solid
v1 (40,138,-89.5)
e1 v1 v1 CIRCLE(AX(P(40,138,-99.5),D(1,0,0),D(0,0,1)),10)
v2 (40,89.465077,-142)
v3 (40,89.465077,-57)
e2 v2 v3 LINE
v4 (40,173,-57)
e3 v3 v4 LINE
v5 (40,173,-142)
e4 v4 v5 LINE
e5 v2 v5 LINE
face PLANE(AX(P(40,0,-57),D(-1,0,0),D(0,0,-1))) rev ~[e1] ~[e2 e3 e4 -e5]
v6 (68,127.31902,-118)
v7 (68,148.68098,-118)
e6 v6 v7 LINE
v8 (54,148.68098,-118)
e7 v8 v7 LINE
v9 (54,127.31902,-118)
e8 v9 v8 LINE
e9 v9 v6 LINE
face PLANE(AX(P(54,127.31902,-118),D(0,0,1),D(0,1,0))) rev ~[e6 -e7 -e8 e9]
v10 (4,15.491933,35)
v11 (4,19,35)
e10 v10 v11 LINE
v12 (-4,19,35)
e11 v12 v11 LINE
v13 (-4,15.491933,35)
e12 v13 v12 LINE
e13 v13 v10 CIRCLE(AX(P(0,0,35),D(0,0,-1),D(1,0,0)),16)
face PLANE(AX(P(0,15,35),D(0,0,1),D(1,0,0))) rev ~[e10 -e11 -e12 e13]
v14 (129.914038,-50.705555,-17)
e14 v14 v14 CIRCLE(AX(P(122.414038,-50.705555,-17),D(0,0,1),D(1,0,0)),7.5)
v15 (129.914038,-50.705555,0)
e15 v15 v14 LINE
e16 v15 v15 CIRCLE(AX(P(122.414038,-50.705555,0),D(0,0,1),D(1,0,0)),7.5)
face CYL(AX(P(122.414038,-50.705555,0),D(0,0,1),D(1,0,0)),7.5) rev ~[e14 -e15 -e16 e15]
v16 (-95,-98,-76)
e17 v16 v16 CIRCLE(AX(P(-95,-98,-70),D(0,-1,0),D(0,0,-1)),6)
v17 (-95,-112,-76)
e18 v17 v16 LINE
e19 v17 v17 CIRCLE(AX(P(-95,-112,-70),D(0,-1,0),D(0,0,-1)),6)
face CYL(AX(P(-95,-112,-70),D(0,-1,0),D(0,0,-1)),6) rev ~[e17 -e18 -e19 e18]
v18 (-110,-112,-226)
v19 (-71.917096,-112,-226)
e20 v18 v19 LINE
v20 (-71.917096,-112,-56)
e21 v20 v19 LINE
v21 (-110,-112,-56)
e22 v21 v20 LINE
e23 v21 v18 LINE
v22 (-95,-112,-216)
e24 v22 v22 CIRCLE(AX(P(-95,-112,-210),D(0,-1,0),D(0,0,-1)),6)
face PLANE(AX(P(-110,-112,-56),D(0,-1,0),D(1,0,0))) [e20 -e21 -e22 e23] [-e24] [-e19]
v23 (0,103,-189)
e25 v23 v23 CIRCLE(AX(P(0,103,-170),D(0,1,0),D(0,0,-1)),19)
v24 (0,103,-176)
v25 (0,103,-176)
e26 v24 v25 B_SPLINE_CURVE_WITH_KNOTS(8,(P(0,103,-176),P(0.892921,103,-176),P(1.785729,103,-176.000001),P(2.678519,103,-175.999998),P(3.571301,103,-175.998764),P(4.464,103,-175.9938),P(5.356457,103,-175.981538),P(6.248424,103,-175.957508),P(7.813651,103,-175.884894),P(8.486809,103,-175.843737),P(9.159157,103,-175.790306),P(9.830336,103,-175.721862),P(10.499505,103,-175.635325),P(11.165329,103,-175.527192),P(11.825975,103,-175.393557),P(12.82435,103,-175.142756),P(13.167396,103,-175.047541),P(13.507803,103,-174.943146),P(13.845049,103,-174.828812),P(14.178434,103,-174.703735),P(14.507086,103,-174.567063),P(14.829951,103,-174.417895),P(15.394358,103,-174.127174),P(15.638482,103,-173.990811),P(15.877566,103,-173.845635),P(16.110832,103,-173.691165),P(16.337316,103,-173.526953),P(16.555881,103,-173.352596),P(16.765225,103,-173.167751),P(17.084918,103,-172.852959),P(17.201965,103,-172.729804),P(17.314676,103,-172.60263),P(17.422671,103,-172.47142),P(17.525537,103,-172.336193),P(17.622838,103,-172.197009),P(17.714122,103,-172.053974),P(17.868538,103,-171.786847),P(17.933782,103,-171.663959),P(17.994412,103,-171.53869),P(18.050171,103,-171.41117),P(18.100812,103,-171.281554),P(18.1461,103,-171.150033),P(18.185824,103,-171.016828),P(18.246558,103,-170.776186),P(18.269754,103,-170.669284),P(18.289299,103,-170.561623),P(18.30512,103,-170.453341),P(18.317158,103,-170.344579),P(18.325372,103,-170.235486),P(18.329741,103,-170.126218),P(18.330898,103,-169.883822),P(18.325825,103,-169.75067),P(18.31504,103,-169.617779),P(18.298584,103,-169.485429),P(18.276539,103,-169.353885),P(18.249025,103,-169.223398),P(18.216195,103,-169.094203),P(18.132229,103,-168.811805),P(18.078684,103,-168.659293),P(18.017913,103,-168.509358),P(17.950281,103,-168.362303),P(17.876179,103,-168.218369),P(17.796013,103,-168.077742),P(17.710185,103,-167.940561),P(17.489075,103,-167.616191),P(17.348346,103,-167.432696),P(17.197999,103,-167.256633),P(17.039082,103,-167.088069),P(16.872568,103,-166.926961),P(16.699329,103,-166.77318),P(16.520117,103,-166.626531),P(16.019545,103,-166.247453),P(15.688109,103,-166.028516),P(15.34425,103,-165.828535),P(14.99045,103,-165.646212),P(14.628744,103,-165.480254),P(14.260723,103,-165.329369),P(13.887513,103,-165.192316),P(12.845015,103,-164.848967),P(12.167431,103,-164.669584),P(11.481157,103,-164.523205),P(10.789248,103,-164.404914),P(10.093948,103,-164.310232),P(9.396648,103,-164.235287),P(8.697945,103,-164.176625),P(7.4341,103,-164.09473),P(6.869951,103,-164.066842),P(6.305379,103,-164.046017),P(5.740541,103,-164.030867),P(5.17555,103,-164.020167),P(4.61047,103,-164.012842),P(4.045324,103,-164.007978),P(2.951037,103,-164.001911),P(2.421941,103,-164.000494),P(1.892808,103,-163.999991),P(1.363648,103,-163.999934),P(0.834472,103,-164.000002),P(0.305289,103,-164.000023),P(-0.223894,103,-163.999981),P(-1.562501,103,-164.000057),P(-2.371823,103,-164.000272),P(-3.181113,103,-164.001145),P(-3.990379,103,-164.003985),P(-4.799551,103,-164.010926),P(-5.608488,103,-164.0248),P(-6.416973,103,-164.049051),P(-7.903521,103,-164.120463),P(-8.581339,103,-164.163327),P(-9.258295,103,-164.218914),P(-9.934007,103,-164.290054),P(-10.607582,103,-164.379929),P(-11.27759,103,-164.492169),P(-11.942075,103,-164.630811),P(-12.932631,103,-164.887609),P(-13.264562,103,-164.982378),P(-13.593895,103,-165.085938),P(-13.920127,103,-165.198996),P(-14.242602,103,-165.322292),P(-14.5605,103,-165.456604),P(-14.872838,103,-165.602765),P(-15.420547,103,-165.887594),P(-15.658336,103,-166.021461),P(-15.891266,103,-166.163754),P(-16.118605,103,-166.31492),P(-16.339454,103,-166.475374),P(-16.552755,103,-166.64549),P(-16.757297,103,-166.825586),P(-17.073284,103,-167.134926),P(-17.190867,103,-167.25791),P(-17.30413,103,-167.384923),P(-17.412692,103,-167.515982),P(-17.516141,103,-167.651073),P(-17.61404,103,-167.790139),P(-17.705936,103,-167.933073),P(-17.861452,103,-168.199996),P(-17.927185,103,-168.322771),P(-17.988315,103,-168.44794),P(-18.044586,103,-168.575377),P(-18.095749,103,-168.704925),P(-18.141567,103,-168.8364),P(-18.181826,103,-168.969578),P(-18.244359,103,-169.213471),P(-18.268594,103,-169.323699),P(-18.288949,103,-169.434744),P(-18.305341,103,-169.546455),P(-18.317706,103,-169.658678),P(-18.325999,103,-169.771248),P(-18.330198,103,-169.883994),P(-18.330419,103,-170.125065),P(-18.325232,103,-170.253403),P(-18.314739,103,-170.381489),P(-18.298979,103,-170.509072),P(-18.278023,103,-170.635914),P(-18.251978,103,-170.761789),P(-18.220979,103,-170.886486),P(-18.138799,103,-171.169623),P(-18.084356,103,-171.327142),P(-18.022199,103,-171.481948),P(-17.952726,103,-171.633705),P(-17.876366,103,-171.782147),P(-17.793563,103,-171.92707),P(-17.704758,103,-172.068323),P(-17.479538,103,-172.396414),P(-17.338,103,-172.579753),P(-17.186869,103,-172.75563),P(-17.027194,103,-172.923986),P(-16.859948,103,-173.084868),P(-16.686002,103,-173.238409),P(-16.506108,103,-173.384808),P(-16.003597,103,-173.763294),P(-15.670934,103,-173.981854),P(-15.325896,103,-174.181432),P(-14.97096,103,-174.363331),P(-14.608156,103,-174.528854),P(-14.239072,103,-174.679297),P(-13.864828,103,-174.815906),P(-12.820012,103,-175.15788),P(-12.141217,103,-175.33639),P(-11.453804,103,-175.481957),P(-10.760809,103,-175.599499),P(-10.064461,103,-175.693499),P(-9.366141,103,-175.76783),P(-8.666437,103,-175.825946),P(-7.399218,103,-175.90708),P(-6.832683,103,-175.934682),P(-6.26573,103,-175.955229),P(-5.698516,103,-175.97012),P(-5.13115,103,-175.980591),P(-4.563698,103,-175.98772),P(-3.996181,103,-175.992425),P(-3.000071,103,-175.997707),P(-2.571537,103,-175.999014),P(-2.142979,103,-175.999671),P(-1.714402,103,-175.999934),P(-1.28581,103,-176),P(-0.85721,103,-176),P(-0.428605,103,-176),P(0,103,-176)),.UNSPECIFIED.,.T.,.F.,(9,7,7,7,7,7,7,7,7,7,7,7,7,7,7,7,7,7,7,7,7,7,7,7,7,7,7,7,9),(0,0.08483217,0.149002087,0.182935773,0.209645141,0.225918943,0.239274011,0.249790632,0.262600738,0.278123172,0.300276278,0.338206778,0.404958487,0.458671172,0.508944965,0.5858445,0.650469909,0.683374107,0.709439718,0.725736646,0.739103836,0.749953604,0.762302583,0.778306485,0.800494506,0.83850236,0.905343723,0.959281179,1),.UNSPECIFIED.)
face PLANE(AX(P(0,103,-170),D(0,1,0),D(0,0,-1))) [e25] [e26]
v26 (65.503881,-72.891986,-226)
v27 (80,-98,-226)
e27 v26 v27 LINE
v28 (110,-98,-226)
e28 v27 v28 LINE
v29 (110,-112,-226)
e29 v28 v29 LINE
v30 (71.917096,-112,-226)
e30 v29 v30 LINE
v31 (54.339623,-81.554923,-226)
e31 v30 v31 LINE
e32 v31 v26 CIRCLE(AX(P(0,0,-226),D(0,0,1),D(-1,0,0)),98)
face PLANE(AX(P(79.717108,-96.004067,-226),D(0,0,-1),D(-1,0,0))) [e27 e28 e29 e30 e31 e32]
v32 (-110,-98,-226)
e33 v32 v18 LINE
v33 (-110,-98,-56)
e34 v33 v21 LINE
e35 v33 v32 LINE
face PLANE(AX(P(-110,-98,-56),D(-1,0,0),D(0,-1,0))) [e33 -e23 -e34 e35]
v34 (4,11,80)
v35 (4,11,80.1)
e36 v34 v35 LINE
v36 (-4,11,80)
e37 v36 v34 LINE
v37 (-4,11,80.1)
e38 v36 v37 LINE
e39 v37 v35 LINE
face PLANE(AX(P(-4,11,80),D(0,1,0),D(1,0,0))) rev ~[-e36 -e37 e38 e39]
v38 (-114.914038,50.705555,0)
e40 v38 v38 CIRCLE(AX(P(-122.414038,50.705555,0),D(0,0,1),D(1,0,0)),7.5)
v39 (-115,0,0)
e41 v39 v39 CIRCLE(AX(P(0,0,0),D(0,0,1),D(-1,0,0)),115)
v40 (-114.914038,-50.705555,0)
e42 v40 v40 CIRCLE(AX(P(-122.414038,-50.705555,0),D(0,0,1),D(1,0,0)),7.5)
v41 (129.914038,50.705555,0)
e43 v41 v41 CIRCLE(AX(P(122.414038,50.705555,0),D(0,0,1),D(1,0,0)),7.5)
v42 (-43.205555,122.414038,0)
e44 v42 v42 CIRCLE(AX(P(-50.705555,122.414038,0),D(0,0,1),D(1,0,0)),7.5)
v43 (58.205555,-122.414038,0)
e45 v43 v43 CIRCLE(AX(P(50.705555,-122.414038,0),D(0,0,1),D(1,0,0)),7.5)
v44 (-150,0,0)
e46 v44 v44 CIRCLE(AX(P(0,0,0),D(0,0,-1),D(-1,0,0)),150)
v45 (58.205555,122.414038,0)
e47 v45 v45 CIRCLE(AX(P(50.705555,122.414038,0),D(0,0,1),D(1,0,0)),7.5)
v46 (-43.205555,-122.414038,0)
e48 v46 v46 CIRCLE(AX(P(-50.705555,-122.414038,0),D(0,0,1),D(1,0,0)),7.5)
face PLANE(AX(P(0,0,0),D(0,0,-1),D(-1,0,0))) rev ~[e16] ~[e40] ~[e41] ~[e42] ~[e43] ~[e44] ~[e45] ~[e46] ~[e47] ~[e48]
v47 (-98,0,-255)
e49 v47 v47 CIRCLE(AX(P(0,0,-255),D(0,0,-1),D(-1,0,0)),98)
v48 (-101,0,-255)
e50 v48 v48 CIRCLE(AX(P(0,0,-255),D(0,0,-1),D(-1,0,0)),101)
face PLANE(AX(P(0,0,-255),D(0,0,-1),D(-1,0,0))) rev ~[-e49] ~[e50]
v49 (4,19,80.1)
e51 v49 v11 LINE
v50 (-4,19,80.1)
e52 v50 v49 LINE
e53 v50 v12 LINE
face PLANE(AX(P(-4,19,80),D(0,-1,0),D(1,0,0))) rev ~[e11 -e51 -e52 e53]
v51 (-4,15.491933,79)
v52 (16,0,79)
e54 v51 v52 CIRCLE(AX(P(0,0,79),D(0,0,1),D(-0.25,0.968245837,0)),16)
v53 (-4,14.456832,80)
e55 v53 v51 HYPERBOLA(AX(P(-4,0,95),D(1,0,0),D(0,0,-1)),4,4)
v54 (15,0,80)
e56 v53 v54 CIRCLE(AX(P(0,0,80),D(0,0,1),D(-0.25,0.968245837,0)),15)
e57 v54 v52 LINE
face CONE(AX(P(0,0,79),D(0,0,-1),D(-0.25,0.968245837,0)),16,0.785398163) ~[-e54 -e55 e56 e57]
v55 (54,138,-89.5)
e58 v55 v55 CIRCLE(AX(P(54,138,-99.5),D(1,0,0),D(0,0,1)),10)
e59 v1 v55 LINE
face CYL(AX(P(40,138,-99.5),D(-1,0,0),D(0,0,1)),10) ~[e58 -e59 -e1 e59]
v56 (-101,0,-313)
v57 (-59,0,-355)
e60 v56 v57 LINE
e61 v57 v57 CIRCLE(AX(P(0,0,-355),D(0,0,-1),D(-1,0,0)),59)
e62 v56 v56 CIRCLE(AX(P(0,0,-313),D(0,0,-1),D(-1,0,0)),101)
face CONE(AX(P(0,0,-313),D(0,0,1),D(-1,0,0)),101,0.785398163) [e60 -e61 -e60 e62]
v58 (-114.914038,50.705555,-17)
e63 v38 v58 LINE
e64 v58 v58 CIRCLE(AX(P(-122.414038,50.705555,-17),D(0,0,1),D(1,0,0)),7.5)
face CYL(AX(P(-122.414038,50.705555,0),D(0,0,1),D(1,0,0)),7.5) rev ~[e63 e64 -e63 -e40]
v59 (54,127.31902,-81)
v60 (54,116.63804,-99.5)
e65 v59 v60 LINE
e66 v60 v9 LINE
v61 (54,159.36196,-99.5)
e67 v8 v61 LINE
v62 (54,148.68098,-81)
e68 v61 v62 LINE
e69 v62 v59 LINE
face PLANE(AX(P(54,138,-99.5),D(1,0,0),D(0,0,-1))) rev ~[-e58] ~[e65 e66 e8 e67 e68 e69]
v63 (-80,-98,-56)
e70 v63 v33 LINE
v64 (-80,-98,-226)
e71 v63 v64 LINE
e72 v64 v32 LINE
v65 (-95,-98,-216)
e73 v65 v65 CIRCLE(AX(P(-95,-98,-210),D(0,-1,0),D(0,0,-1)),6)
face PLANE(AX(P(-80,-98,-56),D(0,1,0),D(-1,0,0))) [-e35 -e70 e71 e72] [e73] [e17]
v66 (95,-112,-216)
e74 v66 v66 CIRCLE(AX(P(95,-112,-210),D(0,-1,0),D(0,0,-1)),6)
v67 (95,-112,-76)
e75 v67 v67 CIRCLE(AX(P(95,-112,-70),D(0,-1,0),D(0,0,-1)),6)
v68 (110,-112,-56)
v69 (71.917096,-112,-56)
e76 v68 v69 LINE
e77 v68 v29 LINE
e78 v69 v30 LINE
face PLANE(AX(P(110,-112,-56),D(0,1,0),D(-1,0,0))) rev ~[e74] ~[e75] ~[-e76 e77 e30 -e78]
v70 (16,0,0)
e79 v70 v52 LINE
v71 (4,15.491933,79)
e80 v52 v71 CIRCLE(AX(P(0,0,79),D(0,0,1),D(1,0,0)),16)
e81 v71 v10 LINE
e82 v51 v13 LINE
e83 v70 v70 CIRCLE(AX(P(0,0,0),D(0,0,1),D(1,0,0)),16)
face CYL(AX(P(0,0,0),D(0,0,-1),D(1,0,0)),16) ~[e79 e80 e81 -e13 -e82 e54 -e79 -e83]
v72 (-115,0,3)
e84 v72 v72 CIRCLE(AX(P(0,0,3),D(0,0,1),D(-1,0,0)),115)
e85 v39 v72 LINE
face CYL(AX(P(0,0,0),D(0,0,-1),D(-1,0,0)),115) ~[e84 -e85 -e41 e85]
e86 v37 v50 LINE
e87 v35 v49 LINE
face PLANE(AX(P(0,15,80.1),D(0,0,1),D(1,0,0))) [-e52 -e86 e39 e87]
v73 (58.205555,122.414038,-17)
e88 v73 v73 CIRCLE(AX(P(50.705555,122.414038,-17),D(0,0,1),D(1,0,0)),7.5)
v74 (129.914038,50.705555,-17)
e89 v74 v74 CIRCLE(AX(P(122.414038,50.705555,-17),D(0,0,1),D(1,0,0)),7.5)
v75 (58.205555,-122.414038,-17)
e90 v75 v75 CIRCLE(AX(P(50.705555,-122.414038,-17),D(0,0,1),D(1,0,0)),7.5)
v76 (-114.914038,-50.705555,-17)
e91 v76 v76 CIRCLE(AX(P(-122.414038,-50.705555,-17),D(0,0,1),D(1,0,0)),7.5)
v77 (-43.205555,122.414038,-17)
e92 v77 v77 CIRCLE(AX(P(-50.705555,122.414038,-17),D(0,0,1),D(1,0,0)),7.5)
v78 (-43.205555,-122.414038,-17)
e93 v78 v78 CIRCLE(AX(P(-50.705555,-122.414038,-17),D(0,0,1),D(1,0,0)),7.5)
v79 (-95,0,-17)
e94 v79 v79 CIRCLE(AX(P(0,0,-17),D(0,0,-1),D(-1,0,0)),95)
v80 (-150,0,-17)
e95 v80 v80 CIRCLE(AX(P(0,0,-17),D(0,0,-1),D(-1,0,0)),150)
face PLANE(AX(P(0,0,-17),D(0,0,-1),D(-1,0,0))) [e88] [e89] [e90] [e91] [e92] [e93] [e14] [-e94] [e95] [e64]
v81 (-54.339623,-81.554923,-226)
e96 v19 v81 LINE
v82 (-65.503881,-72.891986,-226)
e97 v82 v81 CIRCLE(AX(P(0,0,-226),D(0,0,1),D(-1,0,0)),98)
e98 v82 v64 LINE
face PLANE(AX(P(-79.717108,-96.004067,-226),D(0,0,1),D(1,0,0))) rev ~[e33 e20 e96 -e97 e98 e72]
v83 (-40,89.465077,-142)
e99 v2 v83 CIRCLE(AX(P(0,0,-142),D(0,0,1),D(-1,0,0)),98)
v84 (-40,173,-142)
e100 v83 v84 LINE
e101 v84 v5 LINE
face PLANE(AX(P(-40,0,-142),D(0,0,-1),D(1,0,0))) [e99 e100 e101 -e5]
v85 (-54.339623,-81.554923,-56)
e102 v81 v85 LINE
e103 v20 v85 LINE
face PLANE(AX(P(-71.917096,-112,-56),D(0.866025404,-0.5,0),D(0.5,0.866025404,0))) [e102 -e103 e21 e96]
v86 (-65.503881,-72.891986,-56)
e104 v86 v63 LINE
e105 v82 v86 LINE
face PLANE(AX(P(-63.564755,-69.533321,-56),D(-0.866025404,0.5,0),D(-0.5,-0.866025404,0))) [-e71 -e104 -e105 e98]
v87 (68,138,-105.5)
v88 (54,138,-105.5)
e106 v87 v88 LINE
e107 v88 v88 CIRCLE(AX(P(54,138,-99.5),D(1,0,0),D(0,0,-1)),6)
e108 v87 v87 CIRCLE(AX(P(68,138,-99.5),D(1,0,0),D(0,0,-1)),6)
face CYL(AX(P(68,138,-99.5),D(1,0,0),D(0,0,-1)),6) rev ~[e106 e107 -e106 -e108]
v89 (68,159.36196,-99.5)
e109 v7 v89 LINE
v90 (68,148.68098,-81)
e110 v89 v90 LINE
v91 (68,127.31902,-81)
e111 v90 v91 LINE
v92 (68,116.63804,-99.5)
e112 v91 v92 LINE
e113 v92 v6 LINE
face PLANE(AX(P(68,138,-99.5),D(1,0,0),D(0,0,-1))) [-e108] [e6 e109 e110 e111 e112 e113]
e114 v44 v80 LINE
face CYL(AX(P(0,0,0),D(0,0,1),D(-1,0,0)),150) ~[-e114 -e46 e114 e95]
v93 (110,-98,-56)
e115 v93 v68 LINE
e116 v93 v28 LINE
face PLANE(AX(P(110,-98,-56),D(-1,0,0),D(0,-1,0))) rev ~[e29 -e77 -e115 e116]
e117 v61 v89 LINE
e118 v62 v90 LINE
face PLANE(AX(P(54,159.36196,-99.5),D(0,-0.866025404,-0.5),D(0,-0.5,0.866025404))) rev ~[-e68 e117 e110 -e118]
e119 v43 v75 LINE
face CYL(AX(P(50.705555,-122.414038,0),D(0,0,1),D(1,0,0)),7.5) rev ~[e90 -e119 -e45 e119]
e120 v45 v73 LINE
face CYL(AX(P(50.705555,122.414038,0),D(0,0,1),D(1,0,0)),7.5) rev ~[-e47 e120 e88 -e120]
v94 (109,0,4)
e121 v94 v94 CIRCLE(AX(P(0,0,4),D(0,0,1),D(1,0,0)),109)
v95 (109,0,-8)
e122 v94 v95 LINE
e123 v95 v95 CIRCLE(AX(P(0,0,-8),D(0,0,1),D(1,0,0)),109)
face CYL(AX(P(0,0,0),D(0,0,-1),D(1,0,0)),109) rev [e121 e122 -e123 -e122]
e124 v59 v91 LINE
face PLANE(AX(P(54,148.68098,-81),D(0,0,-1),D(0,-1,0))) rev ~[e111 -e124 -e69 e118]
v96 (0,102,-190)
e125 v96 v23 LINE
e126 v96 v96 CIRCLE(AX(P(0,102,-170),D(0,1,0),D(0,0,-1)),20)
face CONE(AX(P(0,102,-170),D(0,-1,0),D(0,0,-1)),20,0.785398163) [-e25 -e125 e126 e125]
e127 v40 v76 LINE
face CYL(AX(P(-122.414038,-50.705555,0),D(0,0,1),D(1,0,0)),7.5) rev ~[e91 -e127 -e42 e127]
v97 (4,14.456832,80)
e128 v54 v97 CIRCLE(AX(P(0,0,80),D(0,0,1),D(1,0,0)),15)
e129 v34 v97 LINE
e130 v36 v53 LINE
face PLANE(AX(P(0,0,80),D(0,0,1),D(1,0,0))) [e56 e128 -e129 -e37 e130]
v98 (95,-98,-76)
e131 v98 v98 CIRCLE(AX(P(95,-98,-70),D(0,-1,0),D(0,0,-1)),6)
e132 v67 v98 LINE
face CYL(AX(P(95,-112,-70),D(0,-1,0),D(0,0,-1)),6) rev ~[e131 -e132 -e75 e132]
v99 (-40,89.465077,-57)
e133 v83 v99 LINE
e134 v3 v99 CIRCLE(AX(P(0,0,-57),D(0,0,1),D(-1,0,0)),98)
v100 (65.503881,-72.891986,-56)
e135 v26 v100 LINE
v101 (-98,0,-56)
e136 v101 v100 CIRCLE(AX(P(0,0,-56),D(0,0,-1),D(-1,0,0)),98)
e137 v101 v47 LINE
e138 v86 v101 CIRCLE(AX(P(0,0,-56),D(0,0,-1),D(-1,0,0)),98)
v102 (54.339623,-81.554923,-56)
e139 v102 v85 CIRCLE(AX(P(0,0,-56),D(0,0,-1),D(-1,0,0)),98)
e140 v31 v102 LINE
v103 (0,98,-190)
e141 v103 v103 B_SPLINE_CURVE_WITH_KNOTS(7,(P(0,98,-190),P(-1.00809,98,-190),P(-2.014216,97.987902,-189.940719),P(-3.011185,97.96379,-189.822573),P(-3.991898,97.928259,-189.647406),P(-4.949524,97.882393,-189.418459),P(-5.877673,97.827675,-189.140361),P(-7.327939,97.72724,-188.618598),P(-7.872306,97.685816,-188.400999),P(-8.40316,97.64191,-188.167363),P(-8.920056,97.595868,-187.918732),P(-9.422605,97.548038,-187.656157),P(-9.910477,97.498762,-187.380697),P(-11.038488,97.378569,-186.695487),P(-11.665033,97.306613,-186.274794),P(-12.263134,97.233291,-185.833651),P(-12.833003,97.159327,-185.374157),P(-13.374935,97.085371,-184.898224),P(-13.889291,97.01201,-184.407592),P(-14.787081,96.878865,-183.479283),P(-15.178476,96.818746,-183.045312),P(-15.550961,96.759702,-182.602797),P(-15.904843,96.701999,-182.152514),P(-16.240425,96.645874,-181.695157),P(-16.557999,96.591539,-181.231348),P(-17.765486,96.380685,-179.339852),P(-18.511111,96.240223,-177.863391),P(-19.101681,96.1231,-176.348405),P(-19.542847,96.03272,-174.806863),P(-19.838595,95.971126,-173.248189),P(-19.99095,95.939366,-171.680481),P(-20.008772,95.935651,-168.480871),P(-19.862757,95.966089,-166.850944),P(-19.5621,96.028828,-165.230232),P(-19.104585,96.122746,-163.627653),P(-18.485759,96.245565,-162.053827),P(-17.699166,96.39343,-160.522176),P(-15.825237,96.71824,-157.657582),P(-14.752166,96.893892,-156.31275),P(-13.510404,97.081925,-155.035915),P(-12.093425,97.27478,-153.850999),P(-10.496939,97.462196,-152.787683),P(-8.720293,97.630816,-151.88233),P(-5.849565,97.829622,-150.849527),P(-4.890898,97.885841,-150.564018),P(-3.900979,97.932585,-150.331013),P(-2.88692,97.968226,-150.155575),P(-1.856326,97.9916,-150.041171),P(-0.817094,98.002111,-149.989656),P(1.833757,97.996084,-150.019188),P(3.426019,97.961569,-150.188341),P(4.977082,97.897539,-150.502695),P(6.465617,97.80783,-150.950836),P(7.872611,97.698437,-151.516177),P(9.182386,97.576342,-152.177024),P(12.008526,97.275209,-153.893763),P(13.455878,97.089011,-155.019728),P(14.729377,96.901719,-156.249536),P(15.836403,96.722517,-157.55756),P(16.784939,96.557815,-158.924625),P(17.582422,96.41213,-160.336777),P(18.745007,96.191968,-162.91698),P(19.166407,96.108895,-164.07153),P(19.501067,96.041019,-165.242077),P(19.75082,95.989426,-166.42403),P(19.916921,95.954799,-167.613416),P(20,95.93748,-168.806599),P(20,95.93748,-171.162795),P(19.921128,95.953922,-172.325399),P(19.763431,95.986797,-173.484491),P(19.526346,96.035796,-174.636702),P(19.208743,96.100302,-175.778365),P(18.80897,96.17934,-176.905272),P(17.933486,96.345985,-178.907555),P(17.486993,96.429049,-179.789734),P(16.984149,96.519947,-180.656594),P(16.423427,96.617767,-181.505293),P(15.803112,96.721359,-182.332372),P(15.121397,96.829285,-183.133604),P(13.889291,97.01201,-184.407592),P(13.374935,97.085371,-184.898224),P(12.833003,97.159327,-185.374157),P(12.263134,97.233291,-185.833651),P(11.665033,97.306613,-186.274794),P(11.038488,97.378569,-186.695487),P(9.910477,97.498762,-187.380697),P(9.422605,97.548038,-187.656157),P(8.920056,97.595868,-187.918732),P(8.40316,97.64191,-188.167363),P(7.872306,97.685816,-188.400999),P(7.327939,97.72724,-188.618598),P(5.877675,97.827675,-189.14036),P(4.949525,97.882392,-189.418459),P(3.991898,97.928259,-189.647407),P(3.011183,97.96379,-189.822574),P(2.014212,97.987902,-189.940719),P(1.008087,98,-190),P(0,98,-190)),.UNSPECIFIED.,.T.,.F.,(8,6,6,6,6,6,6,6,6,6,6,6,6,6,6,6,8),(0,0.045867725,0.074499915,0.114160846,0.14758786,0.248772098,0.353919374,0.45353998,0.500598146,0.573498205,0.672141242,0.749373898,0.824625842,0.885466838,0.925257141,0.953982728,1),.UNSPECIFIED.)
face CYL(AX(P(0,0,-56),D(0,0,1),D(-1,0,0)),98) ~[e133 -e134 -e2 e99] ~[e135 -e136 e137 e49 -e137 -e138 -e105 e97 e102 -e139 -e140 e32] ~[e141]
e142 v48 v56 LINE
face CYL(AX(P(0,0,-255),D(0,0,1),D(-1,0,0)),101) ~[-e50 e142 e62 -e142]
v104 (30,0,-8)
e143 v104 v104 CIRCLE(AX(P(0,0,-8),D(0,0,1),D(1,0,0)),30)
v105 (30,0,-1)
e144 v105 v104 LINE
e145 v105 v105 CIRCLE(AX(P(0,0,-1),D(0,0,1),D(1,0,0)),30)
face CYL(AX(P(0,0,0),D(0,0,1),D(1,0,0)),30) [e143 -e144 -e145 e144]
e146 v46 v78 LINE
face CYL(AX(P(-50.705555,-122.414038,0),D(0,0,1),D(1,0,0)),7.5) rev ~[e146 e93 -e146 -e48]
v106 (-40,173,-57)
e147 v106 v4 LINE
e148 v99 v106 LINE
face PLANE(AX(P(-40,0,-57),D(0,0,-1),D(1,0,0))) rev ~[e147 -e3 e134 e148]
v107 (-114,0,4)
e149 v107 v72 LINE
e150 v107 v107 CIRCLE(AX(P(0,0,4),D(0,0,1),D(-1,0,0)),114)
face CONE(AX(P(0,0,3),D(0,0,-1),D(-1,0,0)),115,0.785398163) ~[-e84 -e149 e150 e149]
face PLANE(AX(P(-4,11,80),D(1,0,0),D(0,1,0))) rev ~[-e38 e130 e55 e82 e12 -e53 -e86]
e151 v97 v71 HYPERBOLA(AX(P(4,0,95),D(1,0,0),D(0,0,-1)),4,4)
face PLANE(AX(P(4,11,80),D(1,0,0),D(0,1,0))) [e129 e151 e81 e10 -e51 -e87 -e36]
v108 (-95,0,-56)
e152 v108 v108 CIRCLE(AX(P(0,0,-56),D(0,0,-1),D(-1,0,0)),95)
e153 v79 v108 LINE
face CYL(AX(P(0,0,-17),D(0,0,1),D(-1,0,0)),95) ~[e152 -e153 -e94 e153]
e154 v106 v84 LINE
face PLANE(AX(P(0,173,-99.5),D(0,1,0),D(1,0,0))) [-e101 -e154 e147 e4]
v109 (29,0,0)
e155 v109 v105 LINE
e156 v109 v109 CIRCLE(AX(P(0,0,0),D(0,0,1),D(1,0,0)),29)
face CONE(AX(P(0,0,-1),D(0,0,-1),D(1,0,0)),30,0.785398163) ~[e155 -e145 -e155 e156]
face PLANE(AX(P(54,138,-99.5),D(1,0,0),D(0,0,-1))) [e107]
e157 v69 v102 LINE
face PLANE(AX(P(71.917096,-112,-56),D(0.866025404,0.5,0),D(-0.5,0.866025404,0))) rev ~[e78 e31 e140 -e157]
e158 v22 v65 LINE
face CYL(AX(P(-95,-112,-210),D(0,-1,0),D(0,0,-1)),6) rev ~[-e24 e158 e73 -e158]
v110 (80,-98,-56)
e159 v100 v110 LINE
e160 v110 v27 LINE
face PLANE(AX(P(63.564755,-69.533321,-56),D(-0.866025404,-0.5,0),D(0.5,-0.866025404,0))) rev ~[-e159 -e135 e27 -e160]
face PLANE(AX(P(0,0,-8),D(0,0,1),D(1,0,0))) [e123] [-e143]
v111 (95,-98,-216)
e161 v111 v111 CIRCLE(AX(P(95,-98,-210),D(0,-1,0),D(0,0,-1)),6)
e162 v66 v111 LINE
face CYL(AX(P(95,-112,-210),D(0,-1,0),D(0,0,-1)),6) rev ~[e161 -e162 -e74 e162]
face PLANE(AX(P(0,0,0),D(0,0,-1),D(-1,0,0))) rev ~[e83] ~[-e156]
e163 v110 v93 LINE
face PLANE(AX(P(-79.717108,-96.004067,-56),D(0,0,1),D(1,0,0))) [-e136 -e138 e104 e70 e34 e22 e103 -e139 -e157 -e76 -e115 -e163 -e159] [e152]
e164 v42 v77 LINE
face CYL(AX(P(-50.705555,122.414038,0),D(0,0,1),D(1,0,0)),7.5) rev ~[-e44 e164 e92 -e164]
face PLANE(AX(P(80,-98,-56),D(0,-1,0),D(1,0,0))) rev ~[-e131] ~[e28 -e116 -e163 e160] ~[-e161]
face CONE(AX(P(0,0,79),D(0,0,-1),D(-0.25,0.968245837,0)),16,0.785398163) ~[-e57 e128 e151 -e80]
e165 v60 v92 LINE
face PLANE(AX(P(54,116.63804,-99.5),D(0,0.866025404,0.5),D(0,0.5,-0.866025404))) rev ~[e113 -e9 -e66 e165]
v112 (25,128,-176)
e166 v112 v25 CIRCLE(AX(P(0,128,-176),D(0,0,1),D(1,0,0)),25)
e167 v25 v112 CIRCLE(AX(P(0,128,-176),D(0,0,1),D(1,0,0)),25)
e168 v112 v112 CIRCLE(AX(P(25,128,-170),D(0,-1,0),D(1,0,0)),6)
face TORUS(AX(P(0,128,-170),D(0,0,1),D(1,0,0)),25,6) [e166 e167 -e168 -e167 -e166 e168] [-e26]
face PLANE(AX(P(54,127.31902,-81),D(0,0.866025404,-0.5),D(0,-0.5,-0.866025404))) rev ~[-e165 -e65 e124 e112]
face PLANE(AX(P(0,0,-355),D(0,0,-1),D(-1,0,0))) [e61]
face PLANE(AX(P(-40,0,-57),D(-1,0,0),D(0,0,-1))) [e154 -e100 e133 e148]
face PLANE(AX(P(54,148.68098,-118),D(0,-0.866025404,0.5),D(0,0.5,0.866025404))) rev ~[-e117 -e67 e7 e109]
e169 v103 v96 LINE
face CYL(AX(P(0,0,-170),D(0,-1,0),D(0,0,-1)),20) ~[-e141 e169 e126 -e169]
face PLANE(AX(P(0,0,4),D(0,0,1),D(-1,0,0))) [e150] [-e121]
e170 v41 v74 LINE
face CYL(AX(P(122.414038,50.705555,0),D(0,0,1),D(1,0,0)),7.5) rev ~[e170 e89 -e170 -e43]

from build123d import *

# Parameters (mm, degrees)
SKETCH_1_R           = 16
EXTRUDE_1_DEPTH      = 80
SKETCH_2_R           = 150
EXTRUDE_2_DEPTH      = 17
SKETCH_3_W           = 8
SKETCH_3_H           = 8
EXTRUDE_3_DEPTH      = 0.1
EXTRUDE_3_DEPTH_BACK = 45
SKETCH_4_R           = 115
SKETCH_4_R_2         = 109
EXTRUDE_4_DEPTH      = 4
SKETCH_5_R           = 109
SKETCH_5_R_2         = 30
CUT_EXTRUDE_1_DEPTH  = 8
CHAMFER_1_SIZE       = 1
SKETCH_6_R           = 7.5
CUT_EXTRUDE_2_DEPTH  = 18
SKETCH_7_R           = 95
EXTRUDE_5_DEPTH      = 39
SKETCH_8_R           = 98
EXTRUDE_6_DEPTH      = 199
SKETCH_9_R           = 101
EXTRUDE_7_DEPTH      = 100
CHAMFER_2_SIZE       = 42
EXTRUDE_8_DEPTH      = 170
CUT_EXTRUDE_3_REACH  = 264
SKETCH_11_R          = 6
SKETCH_12_W          = 80
SKETCH_12_H          = 85
EXTRUDE_9_DEPTH      = 173
SKETCH_13_R          = 20
EXTRUDE_10_DEPTH     = 103
CHAMFER_3_SIZE       = 1
SKETCH_15_R          = 6
SKETCH_16_R          = 10
EXTRUDE_11_DEPTH     = 14
EXTRUDE_12_DEPTH     = 14
SKETCH_18_R          = 6
CUT_EXTRUDE_4_DEPTH  = 14


with BuildPart() as part:
    # Эскиз1 → Вытянуть1 (new body)
    with BuildSketch(Plane.XY):
        Circle(SKETCH_1_R)
    extrude(amount=EXTRUDE_1_DEPTH)

    # Эскиз2 → Вытянуть2 (add)
    with BuildSketch(Plane(origin=(0, 0, 0), x_dir=(-1, 0, 0), z_dir=(0, 0, -1))):
        Circle(SKETCH_2_R)
    extrude(amount=EXTRUDE_2_DEPTH)

    # Эскиз3 → Вытянуть3 (add, two sides)
    with BuildSketch(Plane.XY.offset(80)) as extrude_3_sk:
        with Locations((0, 15)):
            Rectangle(SKETCH_3_W, SKETCH_3_H)
    extrude(amount=EXTRUDE_3_DEPTH)
    extrude(extrude_3_sk.sketch, amount=-EXTRUDE_3_DEPTH_BACK)

    # Эскиз4 → Вытянуть4 (add)
    with BuildSketch(Plane.XY):
        with Locations(Location((0, 0, 0), (0, 0, 180))):  # turned: the seam where the file's is
            Circle(SKETCH_4_R)
        Circle(SKETCH_4_R_2, mode=Mode.SUBTRACT)
    extrude(amount=EXTRUDE_4_DEPTH)

    # Эскиз5 → Вырез-Вытянуть1 (cut)
    with BuildSketch(Plane.XY):
        Circle(SKETCH_5_R)
        Circle(SKETCH_5_R_2, mode=Mode.SUBTRACT)
    extrude(amount=-CUT_EXTRUDE_1_DEPTH, mode=Mode.SUBTRACT)

    # Фаска1
    chamfer_1_edges = [part.edges().sort_by_distance(p)[0] for p in [
        (115, 0, 4),
        (-30, 0, 0),
        (-9.797958971, -12.649110641, 80),
    ]]
    chamfer(chamfer_1_edges, length=CHAMFER_1_SIZE)

    # Эскиз6 → Вырез-Вытянуть2 (cut, through all)
    with BuildSketch(Plane.XY):
        with Locations((-50.705554788, 122.414038058)):
            Circle(SKETCH_6_R)
        with Locations((50.705554788, 122.414038058)):
            Circle(SKETCH_6_R)
        with Locations((122.414038058, 50.705554788)):
            Circle(SKETCH_6_R)
        with Locations((122.414038058, -50.705554788)):
            Circle(SKETCH_6_R)
        with Locations((50.705554788, -122.414038058)):
            Circle(SKETCH_6_R)
        with Locations((-50.705554788, -122.414038058)):
            Circle(SKETCH_6_R)
        with Locations((-122.414038058, -50.705554788)):
            Circle(SKETCH_6_R)
        with Locations((-122.414038058, 50.705554788)):
            Circle(SKETCH_6_R)
    extrude(amount=-CUT_EXTRUDE_2_DEPTH, mode=Mode.SUBTRACT)

    # Эскиз7 → Вытянуть5 (add)
    with BuildSketch(Plane(origin=(0, 0, -17), x_dir=(-1, 0, 0), z_dir=(0, 0, -1))):
        Circle(SKETCH_7_R)
    extrude(amount=EXTRUDE_5_DEPTH)

    # Эскиз8 → Вытянуть6 (add)
    with BuildSketch(Plane(origin=(0, 0, -56), x_dir=(-1, 0, 0), z_dir=(0, 0, -1))):
        Circle(SKETCH_8_R)
    extrude(amount=EXTRUDE_6_DEPTH)

    # Эскиз9 → Вытянуть7 (add)
    with BuildSketch(Plane(origin=(0, 0, -255), x_dir=(-1, 0, 0), z_dir=(0, 0, -1))):
        Circle(SKETCH_9_R)
    extrude(amount=EXTRUDE_7_DEPTH)

    # Фаска2
    chamfer_2_edges = [part.edges().sort_by_distance(p)[0] for p in [
        (101, 0, -355),
    ]]
    chamfer(chamfer_2_edges, length=CHAMFER_2_SIZE)

    # Эскиз10 → Вытянуть8 (add)
    with BuildSketch(Plane.XY.offset(-56)):
        Polygon((-110, -112), (-71.917096231, -112), (-51.440399562, -76.533320997), (-63.564755215, -69.533320997), (-80, -98), (-110, -98), align=None)
        Polygon((110, -98), (110, -112), (71.917096231, -112), (51.440399562, -76.533320997), (63.564755215, -69.533320997), (80, -98), align=None)
    extrude(amount=-EXTRUDE_8_DEPTH)

    # Эскиз11 → Вырез-Вытянуть3 (cut, up to next)
    with BuildSketch(Plane.XZ.offset(112), mode=Mode.PRIVATE) as cut_extrude_3_sk1:
        with Locations(Location((95, -70, 0), (0, 0, 270))):  # turned: the seam where the file's is
            Circle(SKETCH_11_R)
    cut_extrude_3_tool1 = extrude(cut_extrude_3_sk1.sketch, amount=-CUT_EXTRUDE_3_REACH, mode=Mode.PRIVATE) & part.part
    add(cut_extrude_3_tool1.solids().sort_by_distance((95, -112, -70))[0], mode=Mode.SUBTRACT)
    # Эскиз11 → Вырез-Вытянуть3 (cut, up to next)
    with BuildSketch(Plane.XZ.offset(112), mode=Mode.PRIVATE) as cut_extrude_3_sk2:
        with Locations(Location((-95, -70, 0), (0, 0, 270))):  # turned: the seam where the file's is
            Circle(SKETCH_11_R)
    cut_extrude_3_tool2 = extrude(cut_extrude_3_sk2.sketch, amount=-CUT_EXTRUDE_3_REACH, mode=Mode.PRIVATE) & part.part
    add(cut_extrude_3_tool2.solids().sort_by_distance((-95, -112, -70))[0], mode=Mode.SUBTRACT)
    # Эскиз11 → Вырез-Вытянуть3 (cut, up to next)
    with BuildSketch(Plane.XZ.offset(112), mode=Mode.PRIVATE) as cut_extrude_3_sk3:
        with Locations(Location((95, -210, 0), (0, 0, 270))):  # turned: the seam where the file's is
            Circle(SKETCH_11_R)
    cut_extrude_3_tool3 = extrude(cut_extrude_3_sk3.sketch, amount=-CUT_EXTRUDE_3_REACH, mode=Mode.PRIVATE) & part.part
    add(cut_extrude_3_tool3.solids().sort_by_distance((95, -112, -210))[0], mode=Mode.SUBTRACT)
    # Эскиз11 → Вырез-Вытянуть3 (cut, up to next)
    with BuildSketch(Plane.XZ.offset(112), mode=Mode.PRIVATE) as cut_extrude_3_sk4:
        with Locations(Location((-95, -210, 0), (0, 0, 270))):  # turned: the seam where the file's is
            Circle(SKETCH_11_R)
    cut_extrude_3_tool4 = extrude(cut_extrude_3_sk4.sketch, amount=-CUT_EXTRUDE_3_REACH, mode=Mode.PRIVATE) & part.part
    add(cut_extrude_3_tool4.solids().sort_by_distance((-95, -112, -210))[0], mode=Mode.SUBTRACT)

    # Эскиз12 → Вытянуть9 (add)
    with BuildSketch(Plane(origin=(0, 0, 0), x_dir=(1, 0, 0), z_dir=(0, 1, 0))):
        with Locations((0, 99.5)):
            Rectangle(SKETCH_12_W, SKETCH_12_H)
    extrude(amount=EXTRUDE_9_DEPTH)

    # Эскиз13 → Вытянуть10 (add)
    with BuildSketch(Plane(origin=(0, 0, 0), x_dir=(1, 0, 0), z_dir=(0, 1, 0))):
        with Locations(Location((0, 170, 0), (0, 0, 90))):  # turned: the seam where the file's is
            Circle(SKETCH_13_R)
    extrude(amount=EXTRUDE_10_DEPTH)

    # Фаска3
    chamfer_3_edges = [part.edges().sort_by_distance(p)[0] for p in [
        (0, 103, -150),
    ]]
    chamfer(chamfer_3_edges, length=CHAMFER_3_SIZE)

    # По траектории1: sweep along a path in Эскиз14
    with BuildLine(Plane.XY.offset(-170)) as sweep_1_path:
        CenterArc((0, 128), 25, 0, 360)
    # Эскиз15 → По траектории1 (sweep)
    with BuildSketch(Plane(origin=(0, 0, 0), x_dir=(0, 0, -1), z_dir=(1, 0, 0))):
        with Locations((170, 153)):
            Circle(SKETCH_15_R)
    sweep(path=sweep_1_path.line)

    # Эскиз16 → Вытянуть11 (add)
    with BuildSketch(Plane(origin=(40, 0, 0), x_dir=(0, 0, -1), z_dir=(1, 0, 0))):
        with Locations(Location((99.5, 138, 0), (0, 0, 180))):  # turned: the seam where the file's is
            Circle(SKETCH_16_R)
    extrude(amount=EXTRUDE_11_DEPTH)

    # Эскиз17 → Вытянуть12 (add)
    with BuildSketch(Plane(origin=(54, 0, 0), x_dir=(0, 0, -1), z_dir=(1, 0, 0))):
        Polygon((99.5, 159.36195996), (81, 148.68097998), (81, 127.31902002), (99.5, 116.63804004), (118, 127.31902002), (118, 148.68097998), align=None)
    extrude(amount=EXTRUDE_12_DEPTH)

    # Эскиз18 → Вырез-Вытянуть4 (cut)
    with BuildSketch(Plane(origin=(68, 0, 0), x_dir=(0, 0, -1), z_dir=(1, 0, 0))):
        with Locations((99.5, 138)):
            Circle(SKETCH_18_R)
    extrude(amount=-CUT_EXTRUDE_4_DEPTH, mode=Mode.SUBTRACT)


solid = part.part
